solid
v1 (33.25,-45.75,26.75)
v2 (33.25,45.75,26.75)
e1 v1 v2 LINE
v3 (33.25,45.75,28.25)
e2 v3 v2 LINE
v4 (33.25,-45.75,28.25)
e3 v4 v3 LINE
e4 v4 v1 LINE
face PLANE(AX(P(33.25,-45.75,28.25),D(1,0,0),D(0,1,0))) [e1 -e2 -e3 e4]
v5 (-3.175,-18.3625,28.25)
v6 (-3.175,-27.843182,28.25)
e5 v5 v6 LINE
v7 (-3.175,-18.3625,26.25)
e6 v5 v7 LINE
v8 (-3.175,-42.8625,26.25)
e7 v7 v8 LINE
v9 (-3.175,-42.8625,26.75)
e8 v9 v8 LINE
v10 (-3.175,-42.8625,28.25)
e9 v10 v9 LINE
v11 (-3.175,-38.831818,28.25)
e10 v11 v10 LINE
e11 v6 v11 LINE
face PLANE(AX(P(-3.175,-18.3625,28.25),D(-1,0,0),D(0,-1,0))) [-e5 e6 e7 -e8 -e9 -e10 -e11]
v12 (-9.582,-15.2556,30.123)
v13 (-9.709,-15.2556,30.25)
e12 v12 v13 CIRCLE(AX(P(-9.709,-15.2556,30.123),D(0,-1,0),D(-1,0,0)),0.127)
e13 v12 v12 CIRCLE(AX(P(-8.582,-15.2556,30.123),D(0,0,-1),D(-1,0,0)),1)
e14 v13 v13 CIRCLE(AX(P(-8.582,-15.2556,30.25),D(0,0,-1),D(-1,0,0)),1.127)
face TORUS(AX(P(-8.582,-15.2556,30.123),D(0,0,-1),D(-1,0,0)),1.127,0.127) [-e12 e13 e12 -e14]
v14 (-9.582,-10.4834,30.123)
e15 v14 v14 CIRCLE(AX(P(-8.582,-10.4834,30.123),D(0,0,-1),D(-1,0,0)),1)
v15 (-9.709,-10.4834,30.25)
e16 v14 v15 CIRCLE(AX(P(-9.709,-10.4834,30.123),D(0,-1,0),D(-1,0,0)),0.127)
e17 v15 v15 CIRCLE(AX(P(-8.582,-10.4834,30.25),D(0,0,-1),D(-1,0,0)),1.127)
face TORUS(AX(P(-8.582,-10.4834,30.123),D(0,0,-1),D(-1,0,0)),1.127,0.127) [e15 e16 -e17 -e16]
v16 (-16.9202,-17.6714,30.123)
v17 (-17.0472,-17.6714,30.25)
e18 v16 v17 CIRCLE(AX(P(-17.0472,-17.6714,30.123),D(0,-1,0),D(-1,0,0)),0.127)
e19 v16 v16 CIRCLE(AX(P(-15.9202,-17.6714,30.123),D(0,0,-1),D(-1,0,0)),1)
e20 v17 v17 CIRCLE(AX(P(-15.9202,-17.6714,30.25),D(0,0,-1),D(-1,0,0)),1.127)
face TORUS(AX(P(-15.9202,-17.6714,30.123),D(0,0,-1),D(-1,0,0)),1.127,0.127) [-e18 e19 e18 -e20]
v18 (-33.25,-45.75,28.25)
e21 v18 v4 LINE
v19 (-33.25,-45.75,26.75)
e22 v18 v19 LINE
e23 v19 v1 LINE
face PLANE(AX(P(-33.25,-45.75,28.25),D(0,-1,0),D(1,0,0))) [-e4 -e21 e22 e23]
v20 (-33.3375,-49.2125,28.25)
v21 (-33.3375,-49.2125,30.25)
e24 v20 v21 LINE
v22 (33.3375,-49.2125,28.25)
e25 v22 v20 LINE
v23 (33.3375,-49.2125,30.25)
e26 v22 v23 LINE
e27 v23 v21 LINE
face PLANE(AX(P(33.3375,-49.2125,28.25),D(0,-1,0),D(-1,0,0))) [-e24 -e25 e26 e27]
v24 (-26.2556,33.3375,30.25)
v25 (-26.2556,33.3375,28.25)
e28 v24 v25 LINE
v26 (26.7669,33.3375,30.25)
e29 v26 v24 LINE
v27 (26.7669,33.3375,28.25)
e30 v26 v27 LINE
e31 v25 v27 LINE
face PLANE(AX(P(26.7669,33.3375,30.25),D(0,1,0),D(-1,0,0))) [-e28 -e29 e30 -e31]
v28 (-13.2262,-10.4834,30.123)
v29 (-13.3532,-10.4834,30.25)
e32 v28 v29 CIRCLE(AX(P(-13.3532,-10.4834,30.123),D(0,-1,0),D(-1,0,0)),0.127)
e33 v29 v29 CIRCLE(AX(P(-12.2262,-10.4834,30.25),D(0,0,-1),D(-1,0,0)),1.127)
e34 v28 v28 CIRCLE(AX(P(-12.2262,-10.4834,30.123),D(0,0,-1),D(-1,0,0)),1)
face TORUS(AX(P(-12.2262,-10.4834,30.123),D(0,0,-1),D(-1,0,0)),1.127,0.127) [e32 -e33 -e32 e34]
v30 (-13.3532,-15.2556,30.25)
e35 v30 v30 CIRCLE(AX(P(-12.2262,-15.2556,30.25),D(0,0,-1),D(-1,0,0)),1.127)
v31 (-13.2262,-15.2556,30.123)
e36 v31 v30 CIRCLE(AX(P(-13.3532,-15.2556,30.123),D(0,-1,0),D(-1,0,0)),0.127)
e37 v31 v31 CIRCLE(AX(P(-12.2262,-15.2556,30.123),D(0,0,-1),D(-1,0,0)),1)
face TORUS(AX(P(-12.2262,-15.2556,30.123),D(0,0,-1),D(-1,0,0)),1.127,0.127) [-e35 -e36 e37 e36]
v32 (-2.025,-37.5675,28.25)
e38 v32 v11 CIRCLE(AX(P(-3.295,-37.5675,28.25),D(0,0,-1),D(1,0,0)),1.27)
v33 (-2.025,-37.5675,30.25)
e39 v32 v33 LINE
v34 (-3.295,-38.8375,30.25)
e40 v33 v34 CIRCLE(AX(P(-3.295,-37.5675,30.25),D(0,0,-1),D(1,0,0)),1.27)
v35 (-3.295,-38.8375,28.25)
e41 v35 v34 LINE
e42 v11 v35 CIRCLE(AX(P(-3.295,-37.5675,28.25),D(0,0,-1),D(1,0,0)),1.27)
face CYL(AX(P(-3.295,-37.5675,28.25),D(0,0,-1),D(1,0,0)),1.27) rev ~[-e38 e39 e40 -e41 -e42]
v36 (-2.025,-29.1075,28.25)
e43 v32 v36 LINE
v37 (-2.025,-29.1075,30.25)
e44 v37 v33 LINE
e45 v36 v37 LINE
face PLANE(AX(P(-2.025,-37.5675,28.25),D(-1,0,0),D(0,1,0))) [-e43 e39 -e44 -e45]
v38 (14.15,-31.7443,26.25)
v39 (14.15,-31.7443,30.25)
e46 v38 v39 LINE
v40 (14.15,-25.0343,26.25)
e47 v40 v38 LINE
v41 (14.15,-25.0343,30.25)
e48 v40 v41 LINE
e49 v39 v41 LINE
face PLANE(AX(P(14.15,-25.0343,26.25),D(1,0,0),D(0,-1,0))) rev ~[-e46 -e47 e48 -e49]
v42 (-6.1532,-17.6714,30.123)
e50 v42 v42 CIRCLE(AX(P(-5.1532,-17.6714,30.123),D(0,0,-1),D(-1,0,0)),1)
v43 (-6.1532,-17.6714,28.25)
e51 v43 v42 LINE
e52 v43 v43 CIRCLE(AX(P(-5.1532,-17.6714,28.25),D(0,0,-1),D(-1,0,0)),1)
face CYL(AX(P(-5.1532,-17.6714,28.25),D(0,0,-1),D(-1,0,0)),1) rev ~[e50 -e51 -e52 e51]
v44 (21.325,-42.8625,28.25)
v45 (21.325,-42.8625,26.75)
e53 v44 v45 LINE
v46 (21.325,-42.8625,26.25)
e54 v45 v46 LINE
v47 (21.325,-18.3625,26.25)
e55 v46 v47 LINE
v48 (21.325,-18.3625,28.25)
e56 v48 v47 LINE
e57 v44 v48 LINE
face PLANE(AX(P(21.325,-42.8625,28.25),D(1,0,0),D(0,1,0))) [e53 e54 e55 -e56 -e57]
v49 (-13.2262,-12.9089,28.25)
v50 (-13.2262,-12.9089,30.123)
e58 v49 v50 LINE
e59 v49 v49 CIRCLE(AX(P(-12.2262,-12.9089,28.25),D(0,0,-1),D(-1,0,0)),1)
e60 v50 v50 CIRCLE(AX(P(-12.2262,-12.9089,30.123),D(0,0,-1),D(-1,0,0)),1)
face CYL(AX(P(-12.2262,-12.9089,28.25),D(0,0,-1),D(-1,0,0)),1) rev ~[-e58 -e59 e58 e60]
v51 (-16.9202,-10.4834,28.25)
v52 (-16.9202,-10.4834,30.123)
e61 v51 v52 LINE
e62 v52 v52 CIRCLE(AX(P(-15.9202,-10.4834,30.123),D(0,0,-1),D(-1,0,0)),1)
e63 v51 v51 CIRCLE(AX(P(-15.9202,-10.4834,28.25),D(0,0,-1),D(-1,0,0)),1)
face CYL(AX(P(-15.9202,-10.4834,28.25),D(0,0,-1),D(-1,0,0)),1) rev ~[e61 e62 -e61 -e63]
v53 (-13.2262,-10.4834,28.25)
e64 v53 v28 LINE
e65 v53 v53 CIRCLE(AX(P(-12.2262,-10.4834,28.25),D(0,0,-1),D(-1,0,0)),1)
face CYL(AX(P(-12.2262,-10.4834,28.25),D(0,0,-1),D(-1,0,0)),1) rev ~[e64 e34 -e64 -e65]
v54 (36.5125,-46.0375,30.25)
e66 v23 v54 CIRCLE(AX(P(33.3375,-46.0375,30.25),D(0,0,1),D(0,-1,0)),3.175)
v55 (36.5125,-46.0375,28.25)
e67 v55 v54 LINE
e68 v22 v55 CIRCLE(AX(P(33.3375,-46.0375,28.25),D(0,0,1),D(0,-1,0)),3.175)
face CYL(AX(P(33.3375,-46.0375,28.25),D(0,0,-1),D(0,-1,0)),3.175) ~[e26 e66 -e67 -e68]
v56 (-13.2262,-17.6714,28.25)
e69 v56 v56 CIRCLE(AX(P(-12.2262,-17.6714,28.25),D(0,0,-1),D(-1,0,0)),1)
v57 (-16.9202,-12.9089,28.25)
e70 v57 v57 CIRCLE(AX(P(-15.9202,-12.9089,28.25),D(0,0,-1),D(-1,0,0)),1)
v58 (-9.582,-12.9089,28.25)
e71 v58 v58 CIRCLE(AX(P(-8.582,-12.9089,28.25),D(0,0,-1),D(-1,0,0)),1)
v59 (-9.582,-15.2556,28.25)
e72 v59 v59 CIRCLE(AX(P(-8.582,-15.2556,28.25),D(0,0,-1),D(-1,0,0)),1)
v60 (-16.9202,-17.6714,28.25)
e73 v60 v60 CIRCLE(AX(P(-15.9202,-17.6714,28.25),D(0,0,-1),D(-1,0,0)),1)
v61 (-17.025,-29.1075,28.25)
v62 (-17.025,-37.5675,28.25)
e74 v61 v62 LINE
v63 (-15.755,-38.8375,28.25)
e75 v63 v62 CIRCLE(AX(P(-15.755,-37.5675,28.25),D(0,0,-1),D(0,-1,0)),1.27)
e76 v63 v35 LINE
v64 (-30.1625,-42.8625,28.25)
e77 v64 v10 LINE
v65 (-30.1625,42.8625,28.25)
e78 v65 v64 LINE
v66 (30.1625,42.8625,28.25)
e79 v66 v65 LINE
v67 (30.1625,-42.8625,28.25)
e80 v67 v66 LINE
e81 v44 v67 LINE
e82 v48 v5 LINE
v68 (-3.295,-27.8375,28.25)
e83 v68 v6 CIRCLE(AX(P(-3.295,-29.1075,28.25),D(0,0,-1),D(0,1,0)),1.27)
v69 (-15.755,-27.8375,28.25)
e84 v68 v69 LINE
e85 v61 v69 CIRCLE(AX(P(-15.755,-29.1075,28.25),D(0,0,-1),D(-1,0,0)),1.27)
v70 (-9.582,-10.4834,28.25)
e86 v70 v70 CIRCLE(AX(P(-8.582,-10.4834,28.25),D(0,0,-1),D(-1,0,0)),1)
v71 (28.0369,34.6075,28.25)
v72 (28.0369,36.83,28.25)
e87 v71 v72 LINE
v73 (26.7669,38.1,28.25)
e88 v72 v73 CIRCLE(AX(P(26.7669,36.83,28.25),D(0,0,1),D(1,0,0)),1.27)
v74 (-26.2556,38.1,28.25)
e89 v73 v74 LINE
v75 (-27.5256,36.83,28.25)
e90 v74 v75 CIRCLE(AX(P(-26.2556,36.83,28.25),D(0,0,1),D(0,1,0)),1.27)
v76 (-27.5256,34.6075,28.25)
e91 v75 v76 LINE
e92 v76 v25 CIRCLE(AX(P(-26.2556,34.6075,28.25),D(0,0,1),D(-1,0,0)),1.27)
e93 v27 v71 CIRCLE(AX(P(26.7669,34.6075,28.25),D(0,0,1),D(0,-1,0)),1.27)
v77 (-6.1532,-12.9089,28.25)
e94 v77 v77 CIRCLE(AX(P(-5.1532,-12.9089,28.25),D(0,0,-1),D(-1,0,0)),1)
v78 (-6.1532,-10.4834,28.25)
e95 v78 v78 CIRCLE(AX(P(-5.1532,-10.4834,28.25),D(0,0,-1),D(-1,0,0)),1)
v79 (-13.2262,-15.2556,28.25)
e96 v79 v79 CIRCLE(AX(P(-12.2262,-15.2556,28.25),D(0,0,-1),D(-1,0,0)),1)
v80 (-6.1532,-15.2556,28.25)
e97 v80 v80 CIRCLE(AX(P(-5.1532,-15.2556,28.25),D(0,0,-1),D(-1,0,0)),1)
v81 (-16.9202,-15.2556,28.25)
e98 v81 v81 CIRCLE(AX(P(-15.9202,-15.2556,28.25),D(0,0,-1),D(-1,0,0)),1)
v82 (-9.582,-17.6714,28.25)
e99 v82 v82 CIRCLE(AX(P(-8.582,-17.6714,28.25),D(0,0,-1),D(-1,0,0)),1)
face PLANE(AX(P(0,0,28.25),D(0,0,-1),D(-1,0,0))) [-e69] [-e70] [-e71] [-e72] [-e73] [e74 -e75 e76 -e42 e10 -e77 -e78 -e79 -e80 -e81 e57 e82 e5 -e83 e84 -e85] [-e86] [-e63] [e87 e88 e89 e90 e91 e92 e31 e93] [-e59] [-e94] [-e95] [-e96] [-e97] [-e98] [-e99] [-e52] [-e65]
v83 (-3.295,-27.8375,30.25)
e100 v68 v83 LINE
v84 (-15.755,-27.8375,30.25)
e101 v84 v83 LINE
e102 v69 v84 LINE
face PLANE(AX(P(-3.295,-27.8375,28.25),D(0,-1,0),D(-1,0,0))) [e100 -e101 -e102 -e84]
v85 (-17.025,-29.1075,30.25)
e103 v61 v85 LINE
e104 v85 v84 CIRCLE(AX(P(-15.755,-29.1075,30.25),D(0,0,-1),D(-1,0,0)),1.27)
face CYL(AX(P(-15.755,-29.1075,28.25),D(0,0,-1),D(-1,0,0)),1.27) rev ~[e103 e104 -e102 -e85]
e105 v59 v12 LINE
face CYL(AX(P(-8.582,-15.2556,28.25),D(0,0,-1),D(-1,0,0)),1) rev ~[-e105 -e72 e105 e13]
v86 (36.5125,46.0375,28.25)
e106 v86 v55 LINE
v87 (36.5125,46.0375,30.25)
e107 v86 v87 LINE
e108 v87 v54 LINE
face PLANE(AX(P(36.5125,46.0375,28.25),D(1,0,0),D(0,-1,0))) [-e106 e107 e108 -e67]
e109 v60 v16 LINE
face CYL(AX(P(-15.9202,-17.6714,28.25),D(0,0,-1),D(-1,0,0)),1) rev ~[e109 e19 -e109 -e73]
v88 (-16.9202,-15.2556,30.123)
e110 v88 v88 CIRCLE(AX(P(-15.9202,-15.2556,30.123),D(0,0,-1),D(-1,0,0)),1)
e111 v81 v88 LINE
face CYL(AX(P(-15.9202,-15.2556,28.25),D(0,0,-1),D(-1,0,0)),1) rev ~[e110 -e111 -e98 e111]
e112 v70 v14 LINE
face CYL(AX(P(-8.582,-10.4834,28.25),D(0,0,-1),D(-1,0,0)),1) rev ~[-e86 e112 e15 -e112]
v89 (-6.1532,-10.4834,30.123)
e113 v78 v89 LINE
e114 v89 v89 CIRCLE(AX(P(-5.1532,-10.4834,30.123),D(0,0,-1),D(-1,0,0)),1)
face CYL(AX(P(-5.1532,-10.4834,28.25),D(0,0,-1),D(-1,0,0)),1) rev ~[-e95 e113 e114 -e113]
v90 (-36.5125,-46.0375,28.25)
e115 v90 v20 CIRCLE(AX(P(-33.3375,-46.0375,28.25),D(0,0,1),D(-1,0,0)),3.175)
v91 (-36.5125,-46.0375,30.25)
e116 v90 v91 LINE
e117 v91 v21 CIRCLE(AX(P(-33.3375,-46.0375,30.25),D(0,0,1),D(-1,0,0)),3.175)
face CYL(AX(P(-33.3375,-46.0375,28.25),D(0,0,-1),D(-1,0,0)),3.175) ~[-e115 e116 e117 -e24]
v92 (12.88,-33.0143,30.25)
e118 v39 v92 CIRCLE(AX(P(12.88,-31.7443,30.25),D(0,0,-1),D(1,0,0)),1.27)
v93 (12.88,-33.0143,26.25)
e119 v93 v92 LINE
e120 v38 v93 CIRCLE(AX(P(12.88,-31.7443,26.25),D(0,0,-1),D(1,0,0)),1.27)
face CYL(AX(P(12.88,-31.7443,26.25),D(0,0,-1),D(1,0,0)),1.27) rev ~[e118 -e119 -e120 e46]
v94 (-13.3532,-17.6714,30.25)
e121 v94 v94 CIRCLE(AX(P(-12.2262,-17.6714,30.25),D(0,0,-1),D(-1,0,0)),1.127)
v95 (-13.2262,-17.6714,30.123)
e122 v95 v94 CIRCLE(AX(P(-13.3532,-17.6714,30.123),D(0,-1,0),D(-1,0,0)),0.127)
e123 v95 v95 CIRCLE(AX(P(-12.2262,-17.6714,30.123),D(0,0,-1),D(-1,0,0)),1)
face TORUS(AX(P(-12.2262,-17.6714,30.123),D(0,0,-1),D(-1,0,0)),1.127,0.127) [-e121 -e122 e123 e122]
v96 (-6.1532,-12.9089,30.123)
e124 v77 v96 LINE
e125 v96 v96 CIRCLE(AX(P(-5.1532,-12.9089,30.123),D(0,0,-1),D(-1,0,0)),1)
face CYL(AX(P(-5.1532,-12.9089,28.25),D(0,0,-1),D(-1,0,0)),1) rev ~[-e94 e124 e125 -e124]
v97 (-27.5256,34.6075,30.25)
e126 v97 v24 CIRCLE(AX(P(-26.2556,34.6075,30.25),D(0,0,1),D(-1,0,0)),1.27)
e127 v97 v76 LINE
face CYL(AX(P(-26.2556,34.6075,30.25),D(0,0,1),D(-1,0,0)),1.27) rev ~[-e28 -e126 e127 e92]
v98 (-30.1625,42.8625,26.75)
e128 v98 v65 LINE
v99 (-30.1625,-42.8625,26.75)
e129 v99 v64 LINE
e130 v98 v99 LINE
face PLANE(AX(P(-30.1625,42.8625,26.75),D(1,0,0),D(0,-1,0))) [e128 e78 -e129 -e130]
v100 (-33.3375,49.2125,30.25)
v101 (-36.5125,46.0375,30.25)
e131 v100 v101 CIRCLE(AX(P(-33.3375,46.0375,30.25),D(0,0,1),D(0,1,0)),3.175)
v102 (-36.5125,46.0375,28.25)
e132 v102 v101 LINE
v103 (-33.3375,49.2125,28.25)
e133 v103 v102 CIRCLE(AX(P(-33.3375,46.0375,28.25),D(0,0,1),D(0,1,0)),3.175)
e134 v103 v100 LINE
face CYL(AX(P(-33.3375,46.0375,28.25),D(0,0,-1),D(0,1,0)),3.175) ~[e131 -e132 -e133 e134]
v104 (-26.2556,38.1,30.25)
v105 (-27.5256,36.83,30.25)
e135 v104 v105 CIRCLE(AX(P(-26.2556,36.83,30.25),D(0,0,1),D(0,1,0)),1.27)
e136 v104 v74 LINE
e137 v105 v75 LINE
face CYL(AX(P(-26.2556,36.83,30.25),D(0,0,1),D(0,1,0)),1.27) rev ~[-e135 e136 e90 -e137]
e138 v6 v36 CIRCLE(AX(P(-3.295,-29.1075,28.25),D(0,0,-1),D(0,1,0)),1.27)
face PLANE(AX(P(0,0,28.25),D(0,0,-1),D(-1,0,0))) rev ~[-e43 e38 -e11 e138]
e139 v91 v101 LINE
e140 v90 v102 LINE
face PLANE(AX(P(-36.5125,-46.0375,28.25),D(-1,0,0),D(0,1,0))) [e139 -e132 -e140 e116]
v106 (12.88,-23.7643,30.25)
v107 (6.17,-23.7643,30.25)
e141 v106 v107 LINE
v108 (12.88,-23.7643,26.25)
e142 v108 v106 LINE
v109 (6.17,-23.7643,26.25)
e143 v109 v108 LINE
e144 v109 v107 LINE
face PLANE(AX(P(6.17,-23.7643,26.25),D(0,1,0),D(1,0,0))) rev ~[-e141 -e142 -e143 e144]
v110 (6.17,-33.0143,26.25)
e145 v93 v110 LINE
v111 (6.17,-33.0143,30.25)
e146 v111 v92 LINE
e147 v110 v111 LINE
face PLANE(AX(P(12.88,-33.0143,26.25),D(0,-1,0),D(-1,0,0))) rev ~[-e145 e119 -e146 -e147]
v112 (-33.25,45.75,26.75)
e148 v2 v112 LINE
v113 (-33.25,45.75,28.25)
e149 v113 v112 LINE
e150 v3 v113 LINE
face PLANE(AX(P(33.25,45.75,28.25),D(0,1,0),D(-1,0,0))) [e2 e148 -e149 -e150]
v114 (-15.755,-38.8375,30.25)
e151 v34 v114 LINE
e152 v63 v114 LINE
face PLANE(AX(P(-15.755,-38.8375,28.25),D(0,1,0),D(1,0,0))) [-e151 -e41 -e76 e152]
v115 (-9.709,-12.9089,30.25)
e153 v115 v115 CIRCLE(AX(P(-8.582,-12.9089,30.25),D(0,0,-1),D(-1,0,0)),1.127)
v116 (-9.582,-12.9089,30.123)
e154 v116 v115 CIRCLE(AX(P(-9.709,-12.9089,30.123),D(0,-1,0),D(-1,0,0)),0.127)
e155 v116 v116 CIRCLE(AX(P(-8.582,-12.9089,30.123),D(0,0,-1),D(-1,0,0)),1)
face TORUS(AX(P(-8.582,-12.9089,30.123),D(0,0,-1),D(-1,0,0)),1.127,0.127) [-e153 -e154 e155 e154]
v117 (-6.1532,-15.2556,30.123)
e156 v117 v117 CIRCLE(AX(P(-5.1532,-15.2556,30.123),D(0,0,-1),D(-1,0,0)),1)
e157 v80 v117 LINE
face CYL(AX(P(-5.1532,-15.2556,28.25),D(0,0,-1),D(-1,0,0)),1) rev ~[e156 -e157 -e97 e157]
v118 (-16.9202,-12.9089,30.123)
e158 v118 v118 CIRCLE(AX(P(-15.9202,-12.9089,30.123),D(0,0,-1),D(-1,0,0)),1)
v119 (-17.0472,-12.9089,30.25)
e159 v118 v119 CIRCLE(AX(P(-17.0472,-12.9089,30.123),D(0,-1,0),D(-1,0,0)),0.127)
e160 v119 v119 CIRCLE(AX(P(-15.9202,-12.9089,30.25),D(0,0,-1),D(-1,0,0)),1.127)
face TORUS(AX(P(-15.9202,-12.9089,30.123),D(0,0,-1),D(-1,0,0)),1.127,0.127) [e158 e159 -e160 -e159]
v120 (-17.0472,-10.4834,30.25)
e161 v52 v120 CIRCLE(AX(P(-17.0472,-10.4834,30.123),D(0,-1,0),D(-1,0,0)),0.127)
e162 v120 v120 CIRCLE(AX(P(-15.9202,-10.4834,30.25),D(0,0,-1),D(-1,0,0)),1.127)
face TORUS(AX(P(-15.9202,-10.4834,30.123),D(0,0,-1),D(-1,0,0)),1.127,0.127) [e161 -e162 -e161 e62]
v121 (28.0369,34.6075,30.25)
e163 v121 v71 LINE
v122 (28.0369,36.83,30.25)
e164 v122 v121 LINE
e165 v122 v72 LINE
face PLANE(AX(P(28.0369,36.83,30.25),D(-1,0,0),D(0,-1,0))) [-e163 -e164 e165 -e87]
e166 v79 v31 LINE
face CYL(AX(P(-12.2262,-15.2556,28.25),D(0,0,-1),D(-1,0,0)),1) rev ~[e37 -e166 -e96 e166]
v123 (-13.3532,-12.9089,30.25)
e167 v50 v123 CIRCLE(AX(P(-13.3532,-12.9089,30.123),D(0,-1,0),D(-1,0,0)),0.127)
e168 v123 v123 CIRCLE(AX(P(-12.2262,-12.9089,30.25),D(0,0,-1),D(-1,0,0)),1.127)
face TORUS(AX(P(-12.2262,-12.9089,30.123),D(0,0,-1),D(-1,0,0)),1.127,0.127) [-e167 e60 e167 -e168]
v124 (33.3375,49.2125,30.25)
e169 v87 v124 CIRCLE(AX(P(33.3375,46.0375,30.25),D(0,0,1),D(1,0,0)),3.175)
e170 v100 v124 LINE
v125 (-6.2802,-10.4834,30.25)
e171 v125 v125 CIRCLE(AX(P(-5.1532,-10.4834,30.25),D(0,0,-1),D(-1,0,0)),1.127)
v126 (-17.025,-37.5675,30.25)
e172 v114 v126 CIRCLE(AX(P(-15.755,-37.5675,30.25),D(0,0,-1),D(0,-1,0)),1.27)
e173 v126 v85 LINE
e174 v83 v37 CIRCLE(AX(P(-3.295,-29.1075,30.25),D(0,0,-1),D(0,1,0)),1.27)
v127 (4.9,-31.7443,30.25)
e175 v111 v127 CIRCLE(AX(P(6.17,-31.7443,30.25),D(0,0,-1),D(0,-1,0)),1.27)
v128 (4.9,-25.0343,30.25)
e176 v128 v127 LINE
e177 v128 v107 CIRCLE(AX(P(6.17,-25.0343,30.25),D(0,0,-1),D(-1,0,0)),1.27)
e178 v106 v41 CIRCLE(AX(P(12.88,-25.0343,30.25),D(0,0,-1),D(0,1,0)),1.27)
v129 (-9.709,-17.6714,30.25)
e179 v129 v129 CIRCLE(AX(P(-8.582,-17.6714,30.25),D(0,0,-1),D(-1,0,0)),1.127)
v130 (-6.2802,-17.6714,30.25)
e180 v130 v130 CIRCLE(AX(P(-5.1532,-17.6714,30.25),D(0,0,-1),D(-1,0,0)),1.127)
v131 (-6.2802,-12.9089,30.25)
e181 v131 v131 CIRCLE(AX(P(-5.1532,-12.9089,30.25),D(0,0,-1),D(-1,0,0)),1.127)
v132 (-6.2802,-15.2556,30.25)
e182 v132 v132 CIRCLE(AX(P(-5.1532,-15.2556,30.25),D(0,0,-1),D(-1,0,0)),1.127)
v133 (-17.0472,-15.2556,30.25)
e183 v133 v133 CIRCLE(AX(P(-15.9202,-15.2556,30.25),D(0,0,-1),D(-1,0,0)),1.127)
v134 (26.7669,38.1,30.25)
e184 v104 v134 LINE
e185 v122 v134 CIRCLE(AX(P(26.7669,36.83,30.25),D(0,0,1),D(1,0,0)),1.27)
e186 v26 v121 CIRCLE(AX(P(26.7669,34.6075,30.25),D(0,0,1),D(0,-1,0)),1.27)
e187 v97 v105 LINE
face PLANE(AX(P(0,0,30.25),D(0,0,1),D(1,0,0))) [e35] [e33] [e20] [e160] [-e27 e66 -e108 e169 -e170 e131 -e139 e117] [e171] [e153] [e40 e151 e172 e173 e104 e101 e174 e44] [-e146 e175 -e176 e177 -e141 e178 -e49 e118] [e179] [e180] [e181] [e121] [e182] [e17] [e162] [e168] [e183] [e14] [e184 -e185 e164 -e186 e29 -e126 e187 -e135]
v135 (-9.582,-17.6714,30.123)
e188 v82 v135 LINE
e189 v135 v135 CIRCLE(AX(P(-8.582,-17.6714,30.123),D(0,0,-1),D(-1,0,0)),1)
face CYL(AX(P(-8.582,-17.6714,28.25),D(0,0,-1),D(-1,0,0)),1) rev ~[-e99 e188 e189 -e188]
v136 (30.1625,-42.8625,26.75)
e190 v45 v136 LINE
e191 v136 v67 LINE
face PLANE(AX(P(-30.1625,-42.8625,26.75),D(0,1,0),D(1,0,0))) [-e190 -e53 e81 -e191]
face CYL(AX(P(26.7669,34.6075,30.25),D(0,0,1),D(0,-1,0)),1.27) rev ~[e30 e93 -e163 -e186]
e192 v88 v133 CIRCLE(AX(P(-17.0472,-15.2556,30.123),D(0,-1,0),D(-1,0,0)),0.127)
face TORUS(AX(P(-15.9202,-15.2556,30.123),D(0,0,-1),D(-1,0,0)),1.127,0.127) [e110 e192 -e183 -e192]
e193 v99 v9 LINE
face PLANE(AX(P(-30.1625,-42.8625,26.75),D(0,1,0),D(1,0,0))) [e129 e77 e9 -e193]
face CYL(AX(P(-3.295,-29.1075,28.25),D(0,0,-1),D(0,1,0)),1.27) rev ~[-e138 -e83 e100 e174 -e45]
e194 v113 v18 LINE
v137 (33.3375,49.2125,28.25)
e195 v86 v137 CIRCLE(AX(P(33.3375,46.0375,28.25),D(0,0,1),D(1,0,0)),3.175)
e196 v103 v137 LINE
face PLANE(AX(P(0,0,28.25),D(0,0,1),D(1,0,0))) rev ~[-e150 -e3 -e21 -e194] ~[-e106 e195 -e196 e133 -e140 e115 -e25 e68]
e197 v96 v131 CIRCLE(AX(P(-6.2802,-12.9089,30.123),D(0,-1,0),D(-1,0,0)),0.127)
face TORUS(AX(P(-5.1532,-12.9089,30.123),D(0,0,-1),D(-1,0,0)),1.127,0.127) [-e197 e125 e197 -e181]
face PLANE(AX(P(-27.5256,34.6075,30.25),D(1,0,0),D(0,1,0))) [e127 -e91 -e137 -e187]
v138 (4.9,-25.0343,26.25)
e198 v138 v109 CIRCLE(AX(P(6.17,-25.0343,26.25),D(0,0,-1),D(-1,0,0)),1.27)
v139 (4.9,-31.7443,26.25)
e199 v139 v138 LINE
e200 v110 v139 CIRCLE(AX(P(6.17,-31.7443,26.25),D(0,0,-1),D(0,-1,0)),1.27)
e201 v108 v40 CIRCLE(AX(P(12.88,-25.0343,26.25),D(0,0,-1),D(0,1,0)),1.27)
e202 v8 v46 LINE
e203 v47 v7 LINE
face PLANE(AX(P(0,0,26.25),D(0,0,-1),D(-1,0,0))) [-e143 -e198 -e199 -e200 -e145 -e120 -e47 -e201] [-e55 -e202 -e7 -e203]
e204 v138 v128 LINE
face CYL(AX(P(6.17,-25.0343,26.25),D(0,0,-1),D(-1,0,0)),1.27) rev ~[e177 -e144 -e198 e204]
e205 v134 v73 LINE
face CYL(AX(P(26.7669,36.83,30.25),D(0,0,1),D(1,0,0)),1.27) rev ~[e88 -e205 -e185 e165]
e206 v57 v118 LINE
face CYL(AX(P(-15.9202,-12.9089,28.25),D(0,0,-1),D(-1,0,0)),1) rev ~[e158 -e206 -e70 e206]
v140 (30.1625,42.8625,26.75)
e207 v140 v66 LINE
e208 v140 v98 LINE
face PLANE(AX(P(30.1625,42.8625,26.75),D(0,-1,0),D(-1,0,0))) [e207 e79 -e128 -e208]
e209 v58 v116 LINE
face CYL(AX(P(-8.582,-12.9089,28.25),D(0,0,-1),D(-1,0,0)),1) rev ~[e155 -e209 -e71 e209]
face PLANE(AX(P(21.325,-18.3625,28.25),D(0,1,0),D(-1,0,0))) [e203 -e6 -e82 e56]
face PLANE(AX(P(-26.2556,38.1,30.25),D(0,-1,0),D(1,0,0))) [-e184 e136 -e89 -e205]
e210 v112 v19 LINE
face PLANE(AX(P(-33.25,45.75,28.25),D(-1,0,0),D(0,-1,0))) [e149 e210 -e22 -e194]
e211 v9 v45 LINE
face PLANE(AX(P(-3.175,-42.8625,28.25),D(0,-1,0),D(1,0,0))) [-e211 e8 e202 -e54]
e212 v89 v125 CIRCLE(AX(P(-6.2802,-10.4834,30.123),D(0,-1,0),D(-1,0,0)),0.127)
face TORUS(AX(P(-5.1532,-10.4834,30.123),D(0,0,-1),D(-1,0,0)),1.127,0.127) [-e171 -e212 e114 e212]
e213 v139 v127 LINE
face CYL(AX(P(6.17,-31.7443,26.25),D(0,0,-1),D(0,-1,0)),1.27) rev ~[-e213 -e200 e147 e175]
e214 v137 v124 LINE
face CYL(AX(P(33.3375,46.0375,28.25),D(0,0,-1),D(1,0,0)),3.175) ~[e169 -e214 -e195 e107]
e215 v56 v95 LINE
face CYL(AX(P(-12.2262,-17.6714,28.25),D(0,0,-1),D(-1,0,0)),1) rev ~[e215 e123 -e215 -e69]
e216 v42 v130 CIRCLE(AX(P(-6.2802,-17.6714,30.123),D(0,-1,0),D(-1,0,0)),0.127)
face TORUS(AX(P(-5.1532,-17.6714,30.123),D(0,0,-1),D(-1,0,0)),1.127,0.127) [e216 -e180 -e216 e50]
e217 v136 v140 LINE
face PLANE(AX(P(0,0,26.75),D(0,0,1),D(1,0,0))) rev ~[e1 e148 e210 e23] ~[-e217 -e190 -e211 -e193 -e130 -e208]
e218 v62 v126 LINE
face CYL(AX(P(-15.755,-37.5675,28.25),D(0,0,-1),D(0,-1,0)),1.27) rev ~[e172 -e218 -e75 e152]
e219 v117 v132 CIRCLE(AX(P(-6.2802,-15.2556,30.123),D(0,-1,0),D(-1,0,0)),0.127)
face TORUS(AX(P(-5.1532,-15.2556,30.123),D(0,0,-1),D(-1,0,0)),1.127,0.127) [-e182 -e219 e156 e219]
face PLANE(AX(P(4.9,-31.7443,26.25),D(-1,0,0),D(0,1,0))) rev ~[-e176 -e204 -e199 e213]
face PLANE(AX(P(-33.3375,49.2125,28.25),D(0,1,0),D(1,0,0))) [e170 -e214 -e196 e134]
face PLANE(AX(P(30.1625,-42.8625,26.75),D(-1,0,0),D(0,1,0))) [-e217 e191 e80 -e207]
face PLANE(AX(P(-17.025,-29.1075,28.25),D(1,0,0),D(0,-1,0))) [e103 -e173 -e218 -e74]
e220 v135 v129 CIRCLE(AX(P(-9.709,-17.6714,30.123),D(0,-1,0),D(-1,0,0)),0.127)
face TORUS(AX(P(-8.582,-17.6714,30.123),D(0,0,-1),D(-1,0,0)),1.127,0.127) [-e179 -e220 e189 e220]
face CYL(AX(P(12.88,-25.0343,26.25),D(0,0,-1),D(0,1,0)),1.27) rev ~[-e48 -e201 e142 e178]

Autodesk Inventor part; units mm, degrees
ref_plane "YZ Plane" through (0, 0, 0) normal (1, 0, 0) x (0, 1, 0)
ref_plane "XZ Plane" through (0, 0, 0) normal (0, 1, 0) x (-1, 0, 0)
ref_plane "XY Plane" through (0, 0, 0) normal (0, 0, 1) x (1, 0, 0)
ref_plane "Work Plane1" through (0, 0, 28.25) normal (0, 0, 1) x (1, 0, 0)
sketch "Sketch2" plane through (0, 0, 28.25) normal (0, 0, 1) x (1, 0, 0)
  line L0 (-30.075, -44.4369) -> (-30.075, -39.9369) projected
  line L1 (-30.075, -39.9369) -> (-25.575, -39.9369) projected
  line L2 (-25.575, -39.9369) -> (-25.575, -44.4369) projected
  line L3 (-25.575, -44.4369) -> (-30.075, -44.4369) projected
  line L4 (31.575, 19.3131) -> (31.575, 14.8131) projected
  line L5 (31.575, 14.8131) -> (27.075, 14.8131) projected
  line L6 (27.075, 14.8131) -> (27.075, 19.3131) projected
  line L7 (27.075, 19.3131) -> (31.575, 19.3131) projected
  line L8 (31.575, -39.9369) -> (31.575, -44.4369) projected
  line L9 (31.575, -44.4369) -> (27.075, -44.4369) projected
  line L10 (27.075, -44.4369) -> (27.075, -39.9369) projected
  line L11 (27.075, -39.9369) -> (31.575, -39.9369) projected
  line L12 (-30.075, 14.8131) -> (-30.075, 19.3131) projected
  line L13 (-30.075, 19.3131) -> (-25.575, 19.3131) projected
  line L14 (-25.575, 19.3131) -> (-25.575, 14.8131) projected
  line L15 (-25.575, 14.8131) -> (-30.075, 14.8131) projected
  line L16 (33.25, -45.75) -> (33.25, 45.75) projected
  line L17 (33.25, 45.75) -> (-33.25, 45.75) projected
  line L18 (-33.25, 45.75) -> (-33.25, -45.75) projected
  line L19 (-33.25, -45.75) -> (33.25, -45.75) projected
  line L20 (-33.25, 45.75) -> (33.25, 45.75)
  line L21 (33.25, 45.75) -> (33.25, -45.75)
  line L22 (33.25, -45.75) -> (-33.25, -45.75)
  line L23 (-33.25, -45.75) -> (-33.25, 45.75)
  line L24 (-33.25, 45.75) -> (33.25, -45.75) construction
  line L25 (33.25, 45.75) -> (-33.25, -45.75) construction
  point P0 (0, 0)
extrude "Extrusion1" add sketch "Sketch2" against normal blind 1.5 contours L0 L1 L2 L3 | L4 L5 L6 L7 | L8 L9 L10 L11 | L12 L13 L14 L15 | L19 L18 L17 L16
ref_plane "Work Plane2" through (0, 0, 28.25) normal (0, 0, 1) x (1, 0, 0)
sketch "Sketch3" plane through (0, 0, 28.25) normal (0, 0, 1) x (1, 0, 0)
  line L0 (33.25, -45.75) -> (33.25, 45.75) projected
  line L1 (33.25, 45.75) -> (-33.25, 45.75) projected
  line L2 (-33.25, 45.75) -> (-33.25, -45.75) projected
  line L3 (-33.25, -45.75) -> (33.25, -45.75) projected
  line L4 (-33.3375, 49.2125) -> (33.3375, 49.2125)
  line L5 (36.5125, 46.0375) -> (36.5125, -46.0375)
  line L6 (33.3375, -49.2125) -> (-33.3375, -49.2125)
  line L7 (-36.5125, -46.0375) -> (-36.5125, 46.0375)
  line L8 (-36.5125, 49.2125) -> (36.5125, -49.2125) construction
  line L9 (36.5125, 49.2125) -> (-36.5125, -49.2125) construction
  arc A0 (-33.3375, 49.2125) -> (-36.5125, 46.0375) centre (-33.3375, 46.0375) ccw
  arc A1 (-36.5125, -46.0375) -> (-33.3375, -49.2125) centre (-33.3375, -46.0375) ccw
  arc A2 (33.3375, -49.2125) -> (36.5125, -46.0375) centre (33.3375, -46.0375) ccw
  arc A3 (36.5125, 46.0375) -> (33.3375, 49.2125) centre (33.3375, 46.0375) ccw
  point P0 (0, 0)
  dimension "d2" = 3.175
extrude "Extrusion2" add sketch "Sketch3" along normal blind 2 contours L3 L2 L1 L0 | L4 A3 L5 A2 L6 A1 L7 A0
sketch "Sketch4" plane through (0, 0, 26.75) normal (0, 0, -1) x (-1, 0, 0)
  line L0 (-30.1625, 42.8625) -> (30.1625, 42.8625)
  line L1 (30.1625, 42.8625) -> (30.1625, -42.8625)
  line L2 (30.1625, -42.8625) -> (-30.1625, -42.8625)
  line L3 (-30.1625, -42.8625) -> (-30.1625, 42.8625)
  line L4 (-30.1625, 42.8625) -> (30.1625, -42.8625) construction
  line L5 (30.1625, 42.8625) -> (-30.1625, -42.8625) construction
  point P0 (0, 0)
extrude "Extrusion3" cut sketch "Sketch4" against normal blind 1.5
sketch "Sketch5" plane through (0, 0, 28.25) normal (0, 0, -1) x (-1, 0, 0)
  line L0 (3.175, -42.8625) -> (-21.325, -42.8625)
  line L1 (-21.325, -42.8625) -> (-21.325, -18.3625)
  line L2 (-21.325, -18.3625) -> (3.175, -18.3625)
  line L3 (3.175, -18.3625) -> (3.175, -42.8625)
  point P0 (0, 0)
  dimension "d7" = 24.5
  dimension "d8" = 24.5
extrude "Extrusion4" add sketch "Sketch5" along normal blind 2
sketch "Sketch6" plane through (0, 0, 26.25) normal (0, 0, -1) x (-1, 0, 0)
  line L0 (-21.325, -42.8625) -> (3.175, -42.8625) projected
  line L1 (-6.17, -23.7643) -> (-12.88, -23.7643)
  line L2 (-14.15, -25.0343) -> (-14.15, -31.7443)
  line L3 (-12.88, -33.0143) -> (-6.17, -33.0143)
  line L4 (-4.9, -31.7443) -> (-4.9, -25.0343)
  line L5 (-4.9, -23.7643) -> (-14.15, -33.0143) construction
  line L6 (-14.15, -23.7643) -> (-4.9, -33.0143) construction
  arc A0 (-14.15, -31.7443) -> (-12.88, -33.0143) centre (-12.88, -31.7443) ccw
  arc A1 (-12.88, -23.7643) -> (-14.15, -25.0343) centre (-12.88, -25.0343) ccw
  arc A2 (-4.9, -25.0343) -> (-6.17, -23.7643) centre (-6.17, -25.0343) ccw
  arc A3 (-6.17, -33.0143) -> (-4.9, -31.7443) centre (-6.17, -31.7443) ccw
  point P0 (0, 0)
  point P1 (-9.525, -28.3893)
  dimension "d13" = 9.25
  dimension "d14" = 9.25
  dimension "d50" = 1.27
extrude "Extrusion5" cut sketch "Sketch6" against normal blind 5
sketch "Sketch8" plane through (0, 0, 28.25) normal (0, 0, -1) x (-1, 0, 0)
  line L0 (-21.325, -42.8625) -> (-30.1625, -42.8625) projected
  line L1 (15.755, -38.8375) -> (3.295, -38.8375)
  line L2 (2.025, -37.5675) -> (2.025, -29.1075)
  line L3 (3.295, -27.8375) -> (15.755, -27.8375)
  line L4 (17.025, -29.1075) -> (17.025, -37.5675)
  line L5 (17.025, -38.8375) -> (2.025, -27.8375) construction
  line L6 (2.025, -38.8375) -> (17.025, -27.8375) construction
  arc A0 (2.025, -37.5675) -> (3.295, -38.8375) centre (3.295, -37.5675) ccw
  arc A1 (3.295, -27.8375) -> (2.025, -29.1075) centre (3.295, -29.1075) ccw
  arc A2 (17.025, -29.1075) -> (15.755, -27.8375) centre (15.755, -29.1075) ccw
  arc A3 (15.755, -38.8375) -> (17.025, -37.5675) centre (15.755, -37.5675) ccw
  point P0 (0, 0)
  point P1 (9.525, -33.3375)
  dimension "d20" = 15
  dimension "d21" = 11
  dimension "d51" = 1.27
extrude "Extrusion6" cut sketch "Sketch8" against normal blind 5
sketch "Sketch9" plane through (0, 0, 28.25) normal (0, 0, -1) x (-1, 0, 0)
  line L0 (3.295, -27.8375) -> (15.755, -27.8375) projected
  circle A0 centre (15.9202, -17.6714) radius 1
  circle A1 centre (12.2262, -17.6714) radius 1
  circle A2 centre (8.582, -17.6714) radius 1
  circle A3 centre (5.1532, -17.6714) radius 1
  circle A4 centre (15.9202, -15.2556) radius 1
  circle A5 centre (12.2262, -15.2556) radius 1
  circle A6 centre (8.582, -15.2556) radius 1
  circle A7 centre (5.1532, -15.2556) radius 1
  circle A8 centre (15.9202, -12.9089) radius 1
  circle A9 centre (12.2262, -12.9089) radius 1
  circle A10 centre (8.582, -12.9089) radius 1
  circle A11 centre (5.1532, -12.9089) radius 1
  circle A12 centre (15.9202, -10.4834) radius 1
  circle A13 centre (12.2262, -10.4834) radius 1
  circle A14 centre (8.582, -10.4834) radius 1
  circle A15 centre (5.1532, -10.4834) radius 1
  point P0 (0, 0)
  point P1 (17.025, -27.8375)
  point P2 (3.175, -27.8375)
  dimension "d25" = 2
  dimension "d33" = 2
  dimension "d34" = 2
  dimension "d35" = 2
  dimension "d36" = 2
  dimension "d37" = 2
  dimension "d38" = 2
  dimension "d39" = 2
  dimension "d40" = 2
  dimension "d41" = 2
  dimension "d42" = 2
  dimension "d43" = 2
  dimension "d44" = 2
  dimension "d45" = 2
  dimension "d46" = 2
  dimension "d47" = 2
extrude "Extrusion7" cut sketch "Sketch9" against normal blind 5 contours A0
sketch "Sketch10" plane through (0, 0, 30.25) normal (0, 0, 1) x (1, 0, 0)
  line L0 (26.7669, 33.3375) -> (-26.2556, 33.3375)
  line L1 (-27.5256, 34.6075) -> (-27.5256, 36.83)
  line L2 (-26.2556, 38.1) -> (26.7669, 38.1)
  line L3 (28.0369, 36.83) -> (28.0369, 34.6075)
  arc A0 (26.7669, 33.3375) -> (28.0369, 34.6075) centre (26.7669, 34.6075) ccw
  arc A1 (28.0369, 36.83) -> (26.7669, 38.1) centre (26.7669, 36.83) ccw
  arc A2 (-27.5256, 34.6075) -> (-26.2556, 33.3375) centre (-26.2556, 34.6075) ccw
  arc A3 (-26.2556, 38.1) -> (-27.5256, 36.83) centre (-26.2556, 36.83) ccw
  point P0 (0, 0)
  dimension "d28" = 1.27
extrude "Extrusion8" cut sketch "Sketch10" against normal blind 5
sketch "Sketch11" plane through (0, 0, 26.25) normal (0, 0, -1) x (-1, 0, 0)
  line L0 (-3.175, -42.8625) -> (-15.875, -42.8625)
  line L1 (-15.875, -42.8625) -> (-15.875, -36.5125)
  line L2 (-15.875, -36.5125) -> (-3.175, -36.5125)
  line L3 (-3.175, -36.5125) -> (-3.175, -42.8625)
  point P0 (0, 0)
extrude "Extrusion9" cut sketch "Sketch9" against normal blind 2
fillet "Fillet1" radius 0.127 16 edges at (-4.1532, -17.6714, 30.25) (-7.582, -17.6714, 30.25) (-11.2262, -17.6714, 30.25) (-14.9202, -17.6714, 30.25) (-14.9202, -15.2556, 30.25) (-11.2262, -15.2556, 30.25) (-7.582, -15.2556, 30.25) (-4.1532, -15.2556, 30.25) (-4.1532, -12.9089, 30.25) (-4.1532, -10.4834, 30.25) (-7.582, -10.4834, 30.25) (-7.582, -12.9089, 30.25) (-11.2262, -12.9089, 30.25) (-11.2262, -10.4834, 30.25) (-14.9202, -10.4834, 30.25) (-14.9202, -12.9089, 30.25)
equation "\"d48\" = d25"
properties part number "Top"
